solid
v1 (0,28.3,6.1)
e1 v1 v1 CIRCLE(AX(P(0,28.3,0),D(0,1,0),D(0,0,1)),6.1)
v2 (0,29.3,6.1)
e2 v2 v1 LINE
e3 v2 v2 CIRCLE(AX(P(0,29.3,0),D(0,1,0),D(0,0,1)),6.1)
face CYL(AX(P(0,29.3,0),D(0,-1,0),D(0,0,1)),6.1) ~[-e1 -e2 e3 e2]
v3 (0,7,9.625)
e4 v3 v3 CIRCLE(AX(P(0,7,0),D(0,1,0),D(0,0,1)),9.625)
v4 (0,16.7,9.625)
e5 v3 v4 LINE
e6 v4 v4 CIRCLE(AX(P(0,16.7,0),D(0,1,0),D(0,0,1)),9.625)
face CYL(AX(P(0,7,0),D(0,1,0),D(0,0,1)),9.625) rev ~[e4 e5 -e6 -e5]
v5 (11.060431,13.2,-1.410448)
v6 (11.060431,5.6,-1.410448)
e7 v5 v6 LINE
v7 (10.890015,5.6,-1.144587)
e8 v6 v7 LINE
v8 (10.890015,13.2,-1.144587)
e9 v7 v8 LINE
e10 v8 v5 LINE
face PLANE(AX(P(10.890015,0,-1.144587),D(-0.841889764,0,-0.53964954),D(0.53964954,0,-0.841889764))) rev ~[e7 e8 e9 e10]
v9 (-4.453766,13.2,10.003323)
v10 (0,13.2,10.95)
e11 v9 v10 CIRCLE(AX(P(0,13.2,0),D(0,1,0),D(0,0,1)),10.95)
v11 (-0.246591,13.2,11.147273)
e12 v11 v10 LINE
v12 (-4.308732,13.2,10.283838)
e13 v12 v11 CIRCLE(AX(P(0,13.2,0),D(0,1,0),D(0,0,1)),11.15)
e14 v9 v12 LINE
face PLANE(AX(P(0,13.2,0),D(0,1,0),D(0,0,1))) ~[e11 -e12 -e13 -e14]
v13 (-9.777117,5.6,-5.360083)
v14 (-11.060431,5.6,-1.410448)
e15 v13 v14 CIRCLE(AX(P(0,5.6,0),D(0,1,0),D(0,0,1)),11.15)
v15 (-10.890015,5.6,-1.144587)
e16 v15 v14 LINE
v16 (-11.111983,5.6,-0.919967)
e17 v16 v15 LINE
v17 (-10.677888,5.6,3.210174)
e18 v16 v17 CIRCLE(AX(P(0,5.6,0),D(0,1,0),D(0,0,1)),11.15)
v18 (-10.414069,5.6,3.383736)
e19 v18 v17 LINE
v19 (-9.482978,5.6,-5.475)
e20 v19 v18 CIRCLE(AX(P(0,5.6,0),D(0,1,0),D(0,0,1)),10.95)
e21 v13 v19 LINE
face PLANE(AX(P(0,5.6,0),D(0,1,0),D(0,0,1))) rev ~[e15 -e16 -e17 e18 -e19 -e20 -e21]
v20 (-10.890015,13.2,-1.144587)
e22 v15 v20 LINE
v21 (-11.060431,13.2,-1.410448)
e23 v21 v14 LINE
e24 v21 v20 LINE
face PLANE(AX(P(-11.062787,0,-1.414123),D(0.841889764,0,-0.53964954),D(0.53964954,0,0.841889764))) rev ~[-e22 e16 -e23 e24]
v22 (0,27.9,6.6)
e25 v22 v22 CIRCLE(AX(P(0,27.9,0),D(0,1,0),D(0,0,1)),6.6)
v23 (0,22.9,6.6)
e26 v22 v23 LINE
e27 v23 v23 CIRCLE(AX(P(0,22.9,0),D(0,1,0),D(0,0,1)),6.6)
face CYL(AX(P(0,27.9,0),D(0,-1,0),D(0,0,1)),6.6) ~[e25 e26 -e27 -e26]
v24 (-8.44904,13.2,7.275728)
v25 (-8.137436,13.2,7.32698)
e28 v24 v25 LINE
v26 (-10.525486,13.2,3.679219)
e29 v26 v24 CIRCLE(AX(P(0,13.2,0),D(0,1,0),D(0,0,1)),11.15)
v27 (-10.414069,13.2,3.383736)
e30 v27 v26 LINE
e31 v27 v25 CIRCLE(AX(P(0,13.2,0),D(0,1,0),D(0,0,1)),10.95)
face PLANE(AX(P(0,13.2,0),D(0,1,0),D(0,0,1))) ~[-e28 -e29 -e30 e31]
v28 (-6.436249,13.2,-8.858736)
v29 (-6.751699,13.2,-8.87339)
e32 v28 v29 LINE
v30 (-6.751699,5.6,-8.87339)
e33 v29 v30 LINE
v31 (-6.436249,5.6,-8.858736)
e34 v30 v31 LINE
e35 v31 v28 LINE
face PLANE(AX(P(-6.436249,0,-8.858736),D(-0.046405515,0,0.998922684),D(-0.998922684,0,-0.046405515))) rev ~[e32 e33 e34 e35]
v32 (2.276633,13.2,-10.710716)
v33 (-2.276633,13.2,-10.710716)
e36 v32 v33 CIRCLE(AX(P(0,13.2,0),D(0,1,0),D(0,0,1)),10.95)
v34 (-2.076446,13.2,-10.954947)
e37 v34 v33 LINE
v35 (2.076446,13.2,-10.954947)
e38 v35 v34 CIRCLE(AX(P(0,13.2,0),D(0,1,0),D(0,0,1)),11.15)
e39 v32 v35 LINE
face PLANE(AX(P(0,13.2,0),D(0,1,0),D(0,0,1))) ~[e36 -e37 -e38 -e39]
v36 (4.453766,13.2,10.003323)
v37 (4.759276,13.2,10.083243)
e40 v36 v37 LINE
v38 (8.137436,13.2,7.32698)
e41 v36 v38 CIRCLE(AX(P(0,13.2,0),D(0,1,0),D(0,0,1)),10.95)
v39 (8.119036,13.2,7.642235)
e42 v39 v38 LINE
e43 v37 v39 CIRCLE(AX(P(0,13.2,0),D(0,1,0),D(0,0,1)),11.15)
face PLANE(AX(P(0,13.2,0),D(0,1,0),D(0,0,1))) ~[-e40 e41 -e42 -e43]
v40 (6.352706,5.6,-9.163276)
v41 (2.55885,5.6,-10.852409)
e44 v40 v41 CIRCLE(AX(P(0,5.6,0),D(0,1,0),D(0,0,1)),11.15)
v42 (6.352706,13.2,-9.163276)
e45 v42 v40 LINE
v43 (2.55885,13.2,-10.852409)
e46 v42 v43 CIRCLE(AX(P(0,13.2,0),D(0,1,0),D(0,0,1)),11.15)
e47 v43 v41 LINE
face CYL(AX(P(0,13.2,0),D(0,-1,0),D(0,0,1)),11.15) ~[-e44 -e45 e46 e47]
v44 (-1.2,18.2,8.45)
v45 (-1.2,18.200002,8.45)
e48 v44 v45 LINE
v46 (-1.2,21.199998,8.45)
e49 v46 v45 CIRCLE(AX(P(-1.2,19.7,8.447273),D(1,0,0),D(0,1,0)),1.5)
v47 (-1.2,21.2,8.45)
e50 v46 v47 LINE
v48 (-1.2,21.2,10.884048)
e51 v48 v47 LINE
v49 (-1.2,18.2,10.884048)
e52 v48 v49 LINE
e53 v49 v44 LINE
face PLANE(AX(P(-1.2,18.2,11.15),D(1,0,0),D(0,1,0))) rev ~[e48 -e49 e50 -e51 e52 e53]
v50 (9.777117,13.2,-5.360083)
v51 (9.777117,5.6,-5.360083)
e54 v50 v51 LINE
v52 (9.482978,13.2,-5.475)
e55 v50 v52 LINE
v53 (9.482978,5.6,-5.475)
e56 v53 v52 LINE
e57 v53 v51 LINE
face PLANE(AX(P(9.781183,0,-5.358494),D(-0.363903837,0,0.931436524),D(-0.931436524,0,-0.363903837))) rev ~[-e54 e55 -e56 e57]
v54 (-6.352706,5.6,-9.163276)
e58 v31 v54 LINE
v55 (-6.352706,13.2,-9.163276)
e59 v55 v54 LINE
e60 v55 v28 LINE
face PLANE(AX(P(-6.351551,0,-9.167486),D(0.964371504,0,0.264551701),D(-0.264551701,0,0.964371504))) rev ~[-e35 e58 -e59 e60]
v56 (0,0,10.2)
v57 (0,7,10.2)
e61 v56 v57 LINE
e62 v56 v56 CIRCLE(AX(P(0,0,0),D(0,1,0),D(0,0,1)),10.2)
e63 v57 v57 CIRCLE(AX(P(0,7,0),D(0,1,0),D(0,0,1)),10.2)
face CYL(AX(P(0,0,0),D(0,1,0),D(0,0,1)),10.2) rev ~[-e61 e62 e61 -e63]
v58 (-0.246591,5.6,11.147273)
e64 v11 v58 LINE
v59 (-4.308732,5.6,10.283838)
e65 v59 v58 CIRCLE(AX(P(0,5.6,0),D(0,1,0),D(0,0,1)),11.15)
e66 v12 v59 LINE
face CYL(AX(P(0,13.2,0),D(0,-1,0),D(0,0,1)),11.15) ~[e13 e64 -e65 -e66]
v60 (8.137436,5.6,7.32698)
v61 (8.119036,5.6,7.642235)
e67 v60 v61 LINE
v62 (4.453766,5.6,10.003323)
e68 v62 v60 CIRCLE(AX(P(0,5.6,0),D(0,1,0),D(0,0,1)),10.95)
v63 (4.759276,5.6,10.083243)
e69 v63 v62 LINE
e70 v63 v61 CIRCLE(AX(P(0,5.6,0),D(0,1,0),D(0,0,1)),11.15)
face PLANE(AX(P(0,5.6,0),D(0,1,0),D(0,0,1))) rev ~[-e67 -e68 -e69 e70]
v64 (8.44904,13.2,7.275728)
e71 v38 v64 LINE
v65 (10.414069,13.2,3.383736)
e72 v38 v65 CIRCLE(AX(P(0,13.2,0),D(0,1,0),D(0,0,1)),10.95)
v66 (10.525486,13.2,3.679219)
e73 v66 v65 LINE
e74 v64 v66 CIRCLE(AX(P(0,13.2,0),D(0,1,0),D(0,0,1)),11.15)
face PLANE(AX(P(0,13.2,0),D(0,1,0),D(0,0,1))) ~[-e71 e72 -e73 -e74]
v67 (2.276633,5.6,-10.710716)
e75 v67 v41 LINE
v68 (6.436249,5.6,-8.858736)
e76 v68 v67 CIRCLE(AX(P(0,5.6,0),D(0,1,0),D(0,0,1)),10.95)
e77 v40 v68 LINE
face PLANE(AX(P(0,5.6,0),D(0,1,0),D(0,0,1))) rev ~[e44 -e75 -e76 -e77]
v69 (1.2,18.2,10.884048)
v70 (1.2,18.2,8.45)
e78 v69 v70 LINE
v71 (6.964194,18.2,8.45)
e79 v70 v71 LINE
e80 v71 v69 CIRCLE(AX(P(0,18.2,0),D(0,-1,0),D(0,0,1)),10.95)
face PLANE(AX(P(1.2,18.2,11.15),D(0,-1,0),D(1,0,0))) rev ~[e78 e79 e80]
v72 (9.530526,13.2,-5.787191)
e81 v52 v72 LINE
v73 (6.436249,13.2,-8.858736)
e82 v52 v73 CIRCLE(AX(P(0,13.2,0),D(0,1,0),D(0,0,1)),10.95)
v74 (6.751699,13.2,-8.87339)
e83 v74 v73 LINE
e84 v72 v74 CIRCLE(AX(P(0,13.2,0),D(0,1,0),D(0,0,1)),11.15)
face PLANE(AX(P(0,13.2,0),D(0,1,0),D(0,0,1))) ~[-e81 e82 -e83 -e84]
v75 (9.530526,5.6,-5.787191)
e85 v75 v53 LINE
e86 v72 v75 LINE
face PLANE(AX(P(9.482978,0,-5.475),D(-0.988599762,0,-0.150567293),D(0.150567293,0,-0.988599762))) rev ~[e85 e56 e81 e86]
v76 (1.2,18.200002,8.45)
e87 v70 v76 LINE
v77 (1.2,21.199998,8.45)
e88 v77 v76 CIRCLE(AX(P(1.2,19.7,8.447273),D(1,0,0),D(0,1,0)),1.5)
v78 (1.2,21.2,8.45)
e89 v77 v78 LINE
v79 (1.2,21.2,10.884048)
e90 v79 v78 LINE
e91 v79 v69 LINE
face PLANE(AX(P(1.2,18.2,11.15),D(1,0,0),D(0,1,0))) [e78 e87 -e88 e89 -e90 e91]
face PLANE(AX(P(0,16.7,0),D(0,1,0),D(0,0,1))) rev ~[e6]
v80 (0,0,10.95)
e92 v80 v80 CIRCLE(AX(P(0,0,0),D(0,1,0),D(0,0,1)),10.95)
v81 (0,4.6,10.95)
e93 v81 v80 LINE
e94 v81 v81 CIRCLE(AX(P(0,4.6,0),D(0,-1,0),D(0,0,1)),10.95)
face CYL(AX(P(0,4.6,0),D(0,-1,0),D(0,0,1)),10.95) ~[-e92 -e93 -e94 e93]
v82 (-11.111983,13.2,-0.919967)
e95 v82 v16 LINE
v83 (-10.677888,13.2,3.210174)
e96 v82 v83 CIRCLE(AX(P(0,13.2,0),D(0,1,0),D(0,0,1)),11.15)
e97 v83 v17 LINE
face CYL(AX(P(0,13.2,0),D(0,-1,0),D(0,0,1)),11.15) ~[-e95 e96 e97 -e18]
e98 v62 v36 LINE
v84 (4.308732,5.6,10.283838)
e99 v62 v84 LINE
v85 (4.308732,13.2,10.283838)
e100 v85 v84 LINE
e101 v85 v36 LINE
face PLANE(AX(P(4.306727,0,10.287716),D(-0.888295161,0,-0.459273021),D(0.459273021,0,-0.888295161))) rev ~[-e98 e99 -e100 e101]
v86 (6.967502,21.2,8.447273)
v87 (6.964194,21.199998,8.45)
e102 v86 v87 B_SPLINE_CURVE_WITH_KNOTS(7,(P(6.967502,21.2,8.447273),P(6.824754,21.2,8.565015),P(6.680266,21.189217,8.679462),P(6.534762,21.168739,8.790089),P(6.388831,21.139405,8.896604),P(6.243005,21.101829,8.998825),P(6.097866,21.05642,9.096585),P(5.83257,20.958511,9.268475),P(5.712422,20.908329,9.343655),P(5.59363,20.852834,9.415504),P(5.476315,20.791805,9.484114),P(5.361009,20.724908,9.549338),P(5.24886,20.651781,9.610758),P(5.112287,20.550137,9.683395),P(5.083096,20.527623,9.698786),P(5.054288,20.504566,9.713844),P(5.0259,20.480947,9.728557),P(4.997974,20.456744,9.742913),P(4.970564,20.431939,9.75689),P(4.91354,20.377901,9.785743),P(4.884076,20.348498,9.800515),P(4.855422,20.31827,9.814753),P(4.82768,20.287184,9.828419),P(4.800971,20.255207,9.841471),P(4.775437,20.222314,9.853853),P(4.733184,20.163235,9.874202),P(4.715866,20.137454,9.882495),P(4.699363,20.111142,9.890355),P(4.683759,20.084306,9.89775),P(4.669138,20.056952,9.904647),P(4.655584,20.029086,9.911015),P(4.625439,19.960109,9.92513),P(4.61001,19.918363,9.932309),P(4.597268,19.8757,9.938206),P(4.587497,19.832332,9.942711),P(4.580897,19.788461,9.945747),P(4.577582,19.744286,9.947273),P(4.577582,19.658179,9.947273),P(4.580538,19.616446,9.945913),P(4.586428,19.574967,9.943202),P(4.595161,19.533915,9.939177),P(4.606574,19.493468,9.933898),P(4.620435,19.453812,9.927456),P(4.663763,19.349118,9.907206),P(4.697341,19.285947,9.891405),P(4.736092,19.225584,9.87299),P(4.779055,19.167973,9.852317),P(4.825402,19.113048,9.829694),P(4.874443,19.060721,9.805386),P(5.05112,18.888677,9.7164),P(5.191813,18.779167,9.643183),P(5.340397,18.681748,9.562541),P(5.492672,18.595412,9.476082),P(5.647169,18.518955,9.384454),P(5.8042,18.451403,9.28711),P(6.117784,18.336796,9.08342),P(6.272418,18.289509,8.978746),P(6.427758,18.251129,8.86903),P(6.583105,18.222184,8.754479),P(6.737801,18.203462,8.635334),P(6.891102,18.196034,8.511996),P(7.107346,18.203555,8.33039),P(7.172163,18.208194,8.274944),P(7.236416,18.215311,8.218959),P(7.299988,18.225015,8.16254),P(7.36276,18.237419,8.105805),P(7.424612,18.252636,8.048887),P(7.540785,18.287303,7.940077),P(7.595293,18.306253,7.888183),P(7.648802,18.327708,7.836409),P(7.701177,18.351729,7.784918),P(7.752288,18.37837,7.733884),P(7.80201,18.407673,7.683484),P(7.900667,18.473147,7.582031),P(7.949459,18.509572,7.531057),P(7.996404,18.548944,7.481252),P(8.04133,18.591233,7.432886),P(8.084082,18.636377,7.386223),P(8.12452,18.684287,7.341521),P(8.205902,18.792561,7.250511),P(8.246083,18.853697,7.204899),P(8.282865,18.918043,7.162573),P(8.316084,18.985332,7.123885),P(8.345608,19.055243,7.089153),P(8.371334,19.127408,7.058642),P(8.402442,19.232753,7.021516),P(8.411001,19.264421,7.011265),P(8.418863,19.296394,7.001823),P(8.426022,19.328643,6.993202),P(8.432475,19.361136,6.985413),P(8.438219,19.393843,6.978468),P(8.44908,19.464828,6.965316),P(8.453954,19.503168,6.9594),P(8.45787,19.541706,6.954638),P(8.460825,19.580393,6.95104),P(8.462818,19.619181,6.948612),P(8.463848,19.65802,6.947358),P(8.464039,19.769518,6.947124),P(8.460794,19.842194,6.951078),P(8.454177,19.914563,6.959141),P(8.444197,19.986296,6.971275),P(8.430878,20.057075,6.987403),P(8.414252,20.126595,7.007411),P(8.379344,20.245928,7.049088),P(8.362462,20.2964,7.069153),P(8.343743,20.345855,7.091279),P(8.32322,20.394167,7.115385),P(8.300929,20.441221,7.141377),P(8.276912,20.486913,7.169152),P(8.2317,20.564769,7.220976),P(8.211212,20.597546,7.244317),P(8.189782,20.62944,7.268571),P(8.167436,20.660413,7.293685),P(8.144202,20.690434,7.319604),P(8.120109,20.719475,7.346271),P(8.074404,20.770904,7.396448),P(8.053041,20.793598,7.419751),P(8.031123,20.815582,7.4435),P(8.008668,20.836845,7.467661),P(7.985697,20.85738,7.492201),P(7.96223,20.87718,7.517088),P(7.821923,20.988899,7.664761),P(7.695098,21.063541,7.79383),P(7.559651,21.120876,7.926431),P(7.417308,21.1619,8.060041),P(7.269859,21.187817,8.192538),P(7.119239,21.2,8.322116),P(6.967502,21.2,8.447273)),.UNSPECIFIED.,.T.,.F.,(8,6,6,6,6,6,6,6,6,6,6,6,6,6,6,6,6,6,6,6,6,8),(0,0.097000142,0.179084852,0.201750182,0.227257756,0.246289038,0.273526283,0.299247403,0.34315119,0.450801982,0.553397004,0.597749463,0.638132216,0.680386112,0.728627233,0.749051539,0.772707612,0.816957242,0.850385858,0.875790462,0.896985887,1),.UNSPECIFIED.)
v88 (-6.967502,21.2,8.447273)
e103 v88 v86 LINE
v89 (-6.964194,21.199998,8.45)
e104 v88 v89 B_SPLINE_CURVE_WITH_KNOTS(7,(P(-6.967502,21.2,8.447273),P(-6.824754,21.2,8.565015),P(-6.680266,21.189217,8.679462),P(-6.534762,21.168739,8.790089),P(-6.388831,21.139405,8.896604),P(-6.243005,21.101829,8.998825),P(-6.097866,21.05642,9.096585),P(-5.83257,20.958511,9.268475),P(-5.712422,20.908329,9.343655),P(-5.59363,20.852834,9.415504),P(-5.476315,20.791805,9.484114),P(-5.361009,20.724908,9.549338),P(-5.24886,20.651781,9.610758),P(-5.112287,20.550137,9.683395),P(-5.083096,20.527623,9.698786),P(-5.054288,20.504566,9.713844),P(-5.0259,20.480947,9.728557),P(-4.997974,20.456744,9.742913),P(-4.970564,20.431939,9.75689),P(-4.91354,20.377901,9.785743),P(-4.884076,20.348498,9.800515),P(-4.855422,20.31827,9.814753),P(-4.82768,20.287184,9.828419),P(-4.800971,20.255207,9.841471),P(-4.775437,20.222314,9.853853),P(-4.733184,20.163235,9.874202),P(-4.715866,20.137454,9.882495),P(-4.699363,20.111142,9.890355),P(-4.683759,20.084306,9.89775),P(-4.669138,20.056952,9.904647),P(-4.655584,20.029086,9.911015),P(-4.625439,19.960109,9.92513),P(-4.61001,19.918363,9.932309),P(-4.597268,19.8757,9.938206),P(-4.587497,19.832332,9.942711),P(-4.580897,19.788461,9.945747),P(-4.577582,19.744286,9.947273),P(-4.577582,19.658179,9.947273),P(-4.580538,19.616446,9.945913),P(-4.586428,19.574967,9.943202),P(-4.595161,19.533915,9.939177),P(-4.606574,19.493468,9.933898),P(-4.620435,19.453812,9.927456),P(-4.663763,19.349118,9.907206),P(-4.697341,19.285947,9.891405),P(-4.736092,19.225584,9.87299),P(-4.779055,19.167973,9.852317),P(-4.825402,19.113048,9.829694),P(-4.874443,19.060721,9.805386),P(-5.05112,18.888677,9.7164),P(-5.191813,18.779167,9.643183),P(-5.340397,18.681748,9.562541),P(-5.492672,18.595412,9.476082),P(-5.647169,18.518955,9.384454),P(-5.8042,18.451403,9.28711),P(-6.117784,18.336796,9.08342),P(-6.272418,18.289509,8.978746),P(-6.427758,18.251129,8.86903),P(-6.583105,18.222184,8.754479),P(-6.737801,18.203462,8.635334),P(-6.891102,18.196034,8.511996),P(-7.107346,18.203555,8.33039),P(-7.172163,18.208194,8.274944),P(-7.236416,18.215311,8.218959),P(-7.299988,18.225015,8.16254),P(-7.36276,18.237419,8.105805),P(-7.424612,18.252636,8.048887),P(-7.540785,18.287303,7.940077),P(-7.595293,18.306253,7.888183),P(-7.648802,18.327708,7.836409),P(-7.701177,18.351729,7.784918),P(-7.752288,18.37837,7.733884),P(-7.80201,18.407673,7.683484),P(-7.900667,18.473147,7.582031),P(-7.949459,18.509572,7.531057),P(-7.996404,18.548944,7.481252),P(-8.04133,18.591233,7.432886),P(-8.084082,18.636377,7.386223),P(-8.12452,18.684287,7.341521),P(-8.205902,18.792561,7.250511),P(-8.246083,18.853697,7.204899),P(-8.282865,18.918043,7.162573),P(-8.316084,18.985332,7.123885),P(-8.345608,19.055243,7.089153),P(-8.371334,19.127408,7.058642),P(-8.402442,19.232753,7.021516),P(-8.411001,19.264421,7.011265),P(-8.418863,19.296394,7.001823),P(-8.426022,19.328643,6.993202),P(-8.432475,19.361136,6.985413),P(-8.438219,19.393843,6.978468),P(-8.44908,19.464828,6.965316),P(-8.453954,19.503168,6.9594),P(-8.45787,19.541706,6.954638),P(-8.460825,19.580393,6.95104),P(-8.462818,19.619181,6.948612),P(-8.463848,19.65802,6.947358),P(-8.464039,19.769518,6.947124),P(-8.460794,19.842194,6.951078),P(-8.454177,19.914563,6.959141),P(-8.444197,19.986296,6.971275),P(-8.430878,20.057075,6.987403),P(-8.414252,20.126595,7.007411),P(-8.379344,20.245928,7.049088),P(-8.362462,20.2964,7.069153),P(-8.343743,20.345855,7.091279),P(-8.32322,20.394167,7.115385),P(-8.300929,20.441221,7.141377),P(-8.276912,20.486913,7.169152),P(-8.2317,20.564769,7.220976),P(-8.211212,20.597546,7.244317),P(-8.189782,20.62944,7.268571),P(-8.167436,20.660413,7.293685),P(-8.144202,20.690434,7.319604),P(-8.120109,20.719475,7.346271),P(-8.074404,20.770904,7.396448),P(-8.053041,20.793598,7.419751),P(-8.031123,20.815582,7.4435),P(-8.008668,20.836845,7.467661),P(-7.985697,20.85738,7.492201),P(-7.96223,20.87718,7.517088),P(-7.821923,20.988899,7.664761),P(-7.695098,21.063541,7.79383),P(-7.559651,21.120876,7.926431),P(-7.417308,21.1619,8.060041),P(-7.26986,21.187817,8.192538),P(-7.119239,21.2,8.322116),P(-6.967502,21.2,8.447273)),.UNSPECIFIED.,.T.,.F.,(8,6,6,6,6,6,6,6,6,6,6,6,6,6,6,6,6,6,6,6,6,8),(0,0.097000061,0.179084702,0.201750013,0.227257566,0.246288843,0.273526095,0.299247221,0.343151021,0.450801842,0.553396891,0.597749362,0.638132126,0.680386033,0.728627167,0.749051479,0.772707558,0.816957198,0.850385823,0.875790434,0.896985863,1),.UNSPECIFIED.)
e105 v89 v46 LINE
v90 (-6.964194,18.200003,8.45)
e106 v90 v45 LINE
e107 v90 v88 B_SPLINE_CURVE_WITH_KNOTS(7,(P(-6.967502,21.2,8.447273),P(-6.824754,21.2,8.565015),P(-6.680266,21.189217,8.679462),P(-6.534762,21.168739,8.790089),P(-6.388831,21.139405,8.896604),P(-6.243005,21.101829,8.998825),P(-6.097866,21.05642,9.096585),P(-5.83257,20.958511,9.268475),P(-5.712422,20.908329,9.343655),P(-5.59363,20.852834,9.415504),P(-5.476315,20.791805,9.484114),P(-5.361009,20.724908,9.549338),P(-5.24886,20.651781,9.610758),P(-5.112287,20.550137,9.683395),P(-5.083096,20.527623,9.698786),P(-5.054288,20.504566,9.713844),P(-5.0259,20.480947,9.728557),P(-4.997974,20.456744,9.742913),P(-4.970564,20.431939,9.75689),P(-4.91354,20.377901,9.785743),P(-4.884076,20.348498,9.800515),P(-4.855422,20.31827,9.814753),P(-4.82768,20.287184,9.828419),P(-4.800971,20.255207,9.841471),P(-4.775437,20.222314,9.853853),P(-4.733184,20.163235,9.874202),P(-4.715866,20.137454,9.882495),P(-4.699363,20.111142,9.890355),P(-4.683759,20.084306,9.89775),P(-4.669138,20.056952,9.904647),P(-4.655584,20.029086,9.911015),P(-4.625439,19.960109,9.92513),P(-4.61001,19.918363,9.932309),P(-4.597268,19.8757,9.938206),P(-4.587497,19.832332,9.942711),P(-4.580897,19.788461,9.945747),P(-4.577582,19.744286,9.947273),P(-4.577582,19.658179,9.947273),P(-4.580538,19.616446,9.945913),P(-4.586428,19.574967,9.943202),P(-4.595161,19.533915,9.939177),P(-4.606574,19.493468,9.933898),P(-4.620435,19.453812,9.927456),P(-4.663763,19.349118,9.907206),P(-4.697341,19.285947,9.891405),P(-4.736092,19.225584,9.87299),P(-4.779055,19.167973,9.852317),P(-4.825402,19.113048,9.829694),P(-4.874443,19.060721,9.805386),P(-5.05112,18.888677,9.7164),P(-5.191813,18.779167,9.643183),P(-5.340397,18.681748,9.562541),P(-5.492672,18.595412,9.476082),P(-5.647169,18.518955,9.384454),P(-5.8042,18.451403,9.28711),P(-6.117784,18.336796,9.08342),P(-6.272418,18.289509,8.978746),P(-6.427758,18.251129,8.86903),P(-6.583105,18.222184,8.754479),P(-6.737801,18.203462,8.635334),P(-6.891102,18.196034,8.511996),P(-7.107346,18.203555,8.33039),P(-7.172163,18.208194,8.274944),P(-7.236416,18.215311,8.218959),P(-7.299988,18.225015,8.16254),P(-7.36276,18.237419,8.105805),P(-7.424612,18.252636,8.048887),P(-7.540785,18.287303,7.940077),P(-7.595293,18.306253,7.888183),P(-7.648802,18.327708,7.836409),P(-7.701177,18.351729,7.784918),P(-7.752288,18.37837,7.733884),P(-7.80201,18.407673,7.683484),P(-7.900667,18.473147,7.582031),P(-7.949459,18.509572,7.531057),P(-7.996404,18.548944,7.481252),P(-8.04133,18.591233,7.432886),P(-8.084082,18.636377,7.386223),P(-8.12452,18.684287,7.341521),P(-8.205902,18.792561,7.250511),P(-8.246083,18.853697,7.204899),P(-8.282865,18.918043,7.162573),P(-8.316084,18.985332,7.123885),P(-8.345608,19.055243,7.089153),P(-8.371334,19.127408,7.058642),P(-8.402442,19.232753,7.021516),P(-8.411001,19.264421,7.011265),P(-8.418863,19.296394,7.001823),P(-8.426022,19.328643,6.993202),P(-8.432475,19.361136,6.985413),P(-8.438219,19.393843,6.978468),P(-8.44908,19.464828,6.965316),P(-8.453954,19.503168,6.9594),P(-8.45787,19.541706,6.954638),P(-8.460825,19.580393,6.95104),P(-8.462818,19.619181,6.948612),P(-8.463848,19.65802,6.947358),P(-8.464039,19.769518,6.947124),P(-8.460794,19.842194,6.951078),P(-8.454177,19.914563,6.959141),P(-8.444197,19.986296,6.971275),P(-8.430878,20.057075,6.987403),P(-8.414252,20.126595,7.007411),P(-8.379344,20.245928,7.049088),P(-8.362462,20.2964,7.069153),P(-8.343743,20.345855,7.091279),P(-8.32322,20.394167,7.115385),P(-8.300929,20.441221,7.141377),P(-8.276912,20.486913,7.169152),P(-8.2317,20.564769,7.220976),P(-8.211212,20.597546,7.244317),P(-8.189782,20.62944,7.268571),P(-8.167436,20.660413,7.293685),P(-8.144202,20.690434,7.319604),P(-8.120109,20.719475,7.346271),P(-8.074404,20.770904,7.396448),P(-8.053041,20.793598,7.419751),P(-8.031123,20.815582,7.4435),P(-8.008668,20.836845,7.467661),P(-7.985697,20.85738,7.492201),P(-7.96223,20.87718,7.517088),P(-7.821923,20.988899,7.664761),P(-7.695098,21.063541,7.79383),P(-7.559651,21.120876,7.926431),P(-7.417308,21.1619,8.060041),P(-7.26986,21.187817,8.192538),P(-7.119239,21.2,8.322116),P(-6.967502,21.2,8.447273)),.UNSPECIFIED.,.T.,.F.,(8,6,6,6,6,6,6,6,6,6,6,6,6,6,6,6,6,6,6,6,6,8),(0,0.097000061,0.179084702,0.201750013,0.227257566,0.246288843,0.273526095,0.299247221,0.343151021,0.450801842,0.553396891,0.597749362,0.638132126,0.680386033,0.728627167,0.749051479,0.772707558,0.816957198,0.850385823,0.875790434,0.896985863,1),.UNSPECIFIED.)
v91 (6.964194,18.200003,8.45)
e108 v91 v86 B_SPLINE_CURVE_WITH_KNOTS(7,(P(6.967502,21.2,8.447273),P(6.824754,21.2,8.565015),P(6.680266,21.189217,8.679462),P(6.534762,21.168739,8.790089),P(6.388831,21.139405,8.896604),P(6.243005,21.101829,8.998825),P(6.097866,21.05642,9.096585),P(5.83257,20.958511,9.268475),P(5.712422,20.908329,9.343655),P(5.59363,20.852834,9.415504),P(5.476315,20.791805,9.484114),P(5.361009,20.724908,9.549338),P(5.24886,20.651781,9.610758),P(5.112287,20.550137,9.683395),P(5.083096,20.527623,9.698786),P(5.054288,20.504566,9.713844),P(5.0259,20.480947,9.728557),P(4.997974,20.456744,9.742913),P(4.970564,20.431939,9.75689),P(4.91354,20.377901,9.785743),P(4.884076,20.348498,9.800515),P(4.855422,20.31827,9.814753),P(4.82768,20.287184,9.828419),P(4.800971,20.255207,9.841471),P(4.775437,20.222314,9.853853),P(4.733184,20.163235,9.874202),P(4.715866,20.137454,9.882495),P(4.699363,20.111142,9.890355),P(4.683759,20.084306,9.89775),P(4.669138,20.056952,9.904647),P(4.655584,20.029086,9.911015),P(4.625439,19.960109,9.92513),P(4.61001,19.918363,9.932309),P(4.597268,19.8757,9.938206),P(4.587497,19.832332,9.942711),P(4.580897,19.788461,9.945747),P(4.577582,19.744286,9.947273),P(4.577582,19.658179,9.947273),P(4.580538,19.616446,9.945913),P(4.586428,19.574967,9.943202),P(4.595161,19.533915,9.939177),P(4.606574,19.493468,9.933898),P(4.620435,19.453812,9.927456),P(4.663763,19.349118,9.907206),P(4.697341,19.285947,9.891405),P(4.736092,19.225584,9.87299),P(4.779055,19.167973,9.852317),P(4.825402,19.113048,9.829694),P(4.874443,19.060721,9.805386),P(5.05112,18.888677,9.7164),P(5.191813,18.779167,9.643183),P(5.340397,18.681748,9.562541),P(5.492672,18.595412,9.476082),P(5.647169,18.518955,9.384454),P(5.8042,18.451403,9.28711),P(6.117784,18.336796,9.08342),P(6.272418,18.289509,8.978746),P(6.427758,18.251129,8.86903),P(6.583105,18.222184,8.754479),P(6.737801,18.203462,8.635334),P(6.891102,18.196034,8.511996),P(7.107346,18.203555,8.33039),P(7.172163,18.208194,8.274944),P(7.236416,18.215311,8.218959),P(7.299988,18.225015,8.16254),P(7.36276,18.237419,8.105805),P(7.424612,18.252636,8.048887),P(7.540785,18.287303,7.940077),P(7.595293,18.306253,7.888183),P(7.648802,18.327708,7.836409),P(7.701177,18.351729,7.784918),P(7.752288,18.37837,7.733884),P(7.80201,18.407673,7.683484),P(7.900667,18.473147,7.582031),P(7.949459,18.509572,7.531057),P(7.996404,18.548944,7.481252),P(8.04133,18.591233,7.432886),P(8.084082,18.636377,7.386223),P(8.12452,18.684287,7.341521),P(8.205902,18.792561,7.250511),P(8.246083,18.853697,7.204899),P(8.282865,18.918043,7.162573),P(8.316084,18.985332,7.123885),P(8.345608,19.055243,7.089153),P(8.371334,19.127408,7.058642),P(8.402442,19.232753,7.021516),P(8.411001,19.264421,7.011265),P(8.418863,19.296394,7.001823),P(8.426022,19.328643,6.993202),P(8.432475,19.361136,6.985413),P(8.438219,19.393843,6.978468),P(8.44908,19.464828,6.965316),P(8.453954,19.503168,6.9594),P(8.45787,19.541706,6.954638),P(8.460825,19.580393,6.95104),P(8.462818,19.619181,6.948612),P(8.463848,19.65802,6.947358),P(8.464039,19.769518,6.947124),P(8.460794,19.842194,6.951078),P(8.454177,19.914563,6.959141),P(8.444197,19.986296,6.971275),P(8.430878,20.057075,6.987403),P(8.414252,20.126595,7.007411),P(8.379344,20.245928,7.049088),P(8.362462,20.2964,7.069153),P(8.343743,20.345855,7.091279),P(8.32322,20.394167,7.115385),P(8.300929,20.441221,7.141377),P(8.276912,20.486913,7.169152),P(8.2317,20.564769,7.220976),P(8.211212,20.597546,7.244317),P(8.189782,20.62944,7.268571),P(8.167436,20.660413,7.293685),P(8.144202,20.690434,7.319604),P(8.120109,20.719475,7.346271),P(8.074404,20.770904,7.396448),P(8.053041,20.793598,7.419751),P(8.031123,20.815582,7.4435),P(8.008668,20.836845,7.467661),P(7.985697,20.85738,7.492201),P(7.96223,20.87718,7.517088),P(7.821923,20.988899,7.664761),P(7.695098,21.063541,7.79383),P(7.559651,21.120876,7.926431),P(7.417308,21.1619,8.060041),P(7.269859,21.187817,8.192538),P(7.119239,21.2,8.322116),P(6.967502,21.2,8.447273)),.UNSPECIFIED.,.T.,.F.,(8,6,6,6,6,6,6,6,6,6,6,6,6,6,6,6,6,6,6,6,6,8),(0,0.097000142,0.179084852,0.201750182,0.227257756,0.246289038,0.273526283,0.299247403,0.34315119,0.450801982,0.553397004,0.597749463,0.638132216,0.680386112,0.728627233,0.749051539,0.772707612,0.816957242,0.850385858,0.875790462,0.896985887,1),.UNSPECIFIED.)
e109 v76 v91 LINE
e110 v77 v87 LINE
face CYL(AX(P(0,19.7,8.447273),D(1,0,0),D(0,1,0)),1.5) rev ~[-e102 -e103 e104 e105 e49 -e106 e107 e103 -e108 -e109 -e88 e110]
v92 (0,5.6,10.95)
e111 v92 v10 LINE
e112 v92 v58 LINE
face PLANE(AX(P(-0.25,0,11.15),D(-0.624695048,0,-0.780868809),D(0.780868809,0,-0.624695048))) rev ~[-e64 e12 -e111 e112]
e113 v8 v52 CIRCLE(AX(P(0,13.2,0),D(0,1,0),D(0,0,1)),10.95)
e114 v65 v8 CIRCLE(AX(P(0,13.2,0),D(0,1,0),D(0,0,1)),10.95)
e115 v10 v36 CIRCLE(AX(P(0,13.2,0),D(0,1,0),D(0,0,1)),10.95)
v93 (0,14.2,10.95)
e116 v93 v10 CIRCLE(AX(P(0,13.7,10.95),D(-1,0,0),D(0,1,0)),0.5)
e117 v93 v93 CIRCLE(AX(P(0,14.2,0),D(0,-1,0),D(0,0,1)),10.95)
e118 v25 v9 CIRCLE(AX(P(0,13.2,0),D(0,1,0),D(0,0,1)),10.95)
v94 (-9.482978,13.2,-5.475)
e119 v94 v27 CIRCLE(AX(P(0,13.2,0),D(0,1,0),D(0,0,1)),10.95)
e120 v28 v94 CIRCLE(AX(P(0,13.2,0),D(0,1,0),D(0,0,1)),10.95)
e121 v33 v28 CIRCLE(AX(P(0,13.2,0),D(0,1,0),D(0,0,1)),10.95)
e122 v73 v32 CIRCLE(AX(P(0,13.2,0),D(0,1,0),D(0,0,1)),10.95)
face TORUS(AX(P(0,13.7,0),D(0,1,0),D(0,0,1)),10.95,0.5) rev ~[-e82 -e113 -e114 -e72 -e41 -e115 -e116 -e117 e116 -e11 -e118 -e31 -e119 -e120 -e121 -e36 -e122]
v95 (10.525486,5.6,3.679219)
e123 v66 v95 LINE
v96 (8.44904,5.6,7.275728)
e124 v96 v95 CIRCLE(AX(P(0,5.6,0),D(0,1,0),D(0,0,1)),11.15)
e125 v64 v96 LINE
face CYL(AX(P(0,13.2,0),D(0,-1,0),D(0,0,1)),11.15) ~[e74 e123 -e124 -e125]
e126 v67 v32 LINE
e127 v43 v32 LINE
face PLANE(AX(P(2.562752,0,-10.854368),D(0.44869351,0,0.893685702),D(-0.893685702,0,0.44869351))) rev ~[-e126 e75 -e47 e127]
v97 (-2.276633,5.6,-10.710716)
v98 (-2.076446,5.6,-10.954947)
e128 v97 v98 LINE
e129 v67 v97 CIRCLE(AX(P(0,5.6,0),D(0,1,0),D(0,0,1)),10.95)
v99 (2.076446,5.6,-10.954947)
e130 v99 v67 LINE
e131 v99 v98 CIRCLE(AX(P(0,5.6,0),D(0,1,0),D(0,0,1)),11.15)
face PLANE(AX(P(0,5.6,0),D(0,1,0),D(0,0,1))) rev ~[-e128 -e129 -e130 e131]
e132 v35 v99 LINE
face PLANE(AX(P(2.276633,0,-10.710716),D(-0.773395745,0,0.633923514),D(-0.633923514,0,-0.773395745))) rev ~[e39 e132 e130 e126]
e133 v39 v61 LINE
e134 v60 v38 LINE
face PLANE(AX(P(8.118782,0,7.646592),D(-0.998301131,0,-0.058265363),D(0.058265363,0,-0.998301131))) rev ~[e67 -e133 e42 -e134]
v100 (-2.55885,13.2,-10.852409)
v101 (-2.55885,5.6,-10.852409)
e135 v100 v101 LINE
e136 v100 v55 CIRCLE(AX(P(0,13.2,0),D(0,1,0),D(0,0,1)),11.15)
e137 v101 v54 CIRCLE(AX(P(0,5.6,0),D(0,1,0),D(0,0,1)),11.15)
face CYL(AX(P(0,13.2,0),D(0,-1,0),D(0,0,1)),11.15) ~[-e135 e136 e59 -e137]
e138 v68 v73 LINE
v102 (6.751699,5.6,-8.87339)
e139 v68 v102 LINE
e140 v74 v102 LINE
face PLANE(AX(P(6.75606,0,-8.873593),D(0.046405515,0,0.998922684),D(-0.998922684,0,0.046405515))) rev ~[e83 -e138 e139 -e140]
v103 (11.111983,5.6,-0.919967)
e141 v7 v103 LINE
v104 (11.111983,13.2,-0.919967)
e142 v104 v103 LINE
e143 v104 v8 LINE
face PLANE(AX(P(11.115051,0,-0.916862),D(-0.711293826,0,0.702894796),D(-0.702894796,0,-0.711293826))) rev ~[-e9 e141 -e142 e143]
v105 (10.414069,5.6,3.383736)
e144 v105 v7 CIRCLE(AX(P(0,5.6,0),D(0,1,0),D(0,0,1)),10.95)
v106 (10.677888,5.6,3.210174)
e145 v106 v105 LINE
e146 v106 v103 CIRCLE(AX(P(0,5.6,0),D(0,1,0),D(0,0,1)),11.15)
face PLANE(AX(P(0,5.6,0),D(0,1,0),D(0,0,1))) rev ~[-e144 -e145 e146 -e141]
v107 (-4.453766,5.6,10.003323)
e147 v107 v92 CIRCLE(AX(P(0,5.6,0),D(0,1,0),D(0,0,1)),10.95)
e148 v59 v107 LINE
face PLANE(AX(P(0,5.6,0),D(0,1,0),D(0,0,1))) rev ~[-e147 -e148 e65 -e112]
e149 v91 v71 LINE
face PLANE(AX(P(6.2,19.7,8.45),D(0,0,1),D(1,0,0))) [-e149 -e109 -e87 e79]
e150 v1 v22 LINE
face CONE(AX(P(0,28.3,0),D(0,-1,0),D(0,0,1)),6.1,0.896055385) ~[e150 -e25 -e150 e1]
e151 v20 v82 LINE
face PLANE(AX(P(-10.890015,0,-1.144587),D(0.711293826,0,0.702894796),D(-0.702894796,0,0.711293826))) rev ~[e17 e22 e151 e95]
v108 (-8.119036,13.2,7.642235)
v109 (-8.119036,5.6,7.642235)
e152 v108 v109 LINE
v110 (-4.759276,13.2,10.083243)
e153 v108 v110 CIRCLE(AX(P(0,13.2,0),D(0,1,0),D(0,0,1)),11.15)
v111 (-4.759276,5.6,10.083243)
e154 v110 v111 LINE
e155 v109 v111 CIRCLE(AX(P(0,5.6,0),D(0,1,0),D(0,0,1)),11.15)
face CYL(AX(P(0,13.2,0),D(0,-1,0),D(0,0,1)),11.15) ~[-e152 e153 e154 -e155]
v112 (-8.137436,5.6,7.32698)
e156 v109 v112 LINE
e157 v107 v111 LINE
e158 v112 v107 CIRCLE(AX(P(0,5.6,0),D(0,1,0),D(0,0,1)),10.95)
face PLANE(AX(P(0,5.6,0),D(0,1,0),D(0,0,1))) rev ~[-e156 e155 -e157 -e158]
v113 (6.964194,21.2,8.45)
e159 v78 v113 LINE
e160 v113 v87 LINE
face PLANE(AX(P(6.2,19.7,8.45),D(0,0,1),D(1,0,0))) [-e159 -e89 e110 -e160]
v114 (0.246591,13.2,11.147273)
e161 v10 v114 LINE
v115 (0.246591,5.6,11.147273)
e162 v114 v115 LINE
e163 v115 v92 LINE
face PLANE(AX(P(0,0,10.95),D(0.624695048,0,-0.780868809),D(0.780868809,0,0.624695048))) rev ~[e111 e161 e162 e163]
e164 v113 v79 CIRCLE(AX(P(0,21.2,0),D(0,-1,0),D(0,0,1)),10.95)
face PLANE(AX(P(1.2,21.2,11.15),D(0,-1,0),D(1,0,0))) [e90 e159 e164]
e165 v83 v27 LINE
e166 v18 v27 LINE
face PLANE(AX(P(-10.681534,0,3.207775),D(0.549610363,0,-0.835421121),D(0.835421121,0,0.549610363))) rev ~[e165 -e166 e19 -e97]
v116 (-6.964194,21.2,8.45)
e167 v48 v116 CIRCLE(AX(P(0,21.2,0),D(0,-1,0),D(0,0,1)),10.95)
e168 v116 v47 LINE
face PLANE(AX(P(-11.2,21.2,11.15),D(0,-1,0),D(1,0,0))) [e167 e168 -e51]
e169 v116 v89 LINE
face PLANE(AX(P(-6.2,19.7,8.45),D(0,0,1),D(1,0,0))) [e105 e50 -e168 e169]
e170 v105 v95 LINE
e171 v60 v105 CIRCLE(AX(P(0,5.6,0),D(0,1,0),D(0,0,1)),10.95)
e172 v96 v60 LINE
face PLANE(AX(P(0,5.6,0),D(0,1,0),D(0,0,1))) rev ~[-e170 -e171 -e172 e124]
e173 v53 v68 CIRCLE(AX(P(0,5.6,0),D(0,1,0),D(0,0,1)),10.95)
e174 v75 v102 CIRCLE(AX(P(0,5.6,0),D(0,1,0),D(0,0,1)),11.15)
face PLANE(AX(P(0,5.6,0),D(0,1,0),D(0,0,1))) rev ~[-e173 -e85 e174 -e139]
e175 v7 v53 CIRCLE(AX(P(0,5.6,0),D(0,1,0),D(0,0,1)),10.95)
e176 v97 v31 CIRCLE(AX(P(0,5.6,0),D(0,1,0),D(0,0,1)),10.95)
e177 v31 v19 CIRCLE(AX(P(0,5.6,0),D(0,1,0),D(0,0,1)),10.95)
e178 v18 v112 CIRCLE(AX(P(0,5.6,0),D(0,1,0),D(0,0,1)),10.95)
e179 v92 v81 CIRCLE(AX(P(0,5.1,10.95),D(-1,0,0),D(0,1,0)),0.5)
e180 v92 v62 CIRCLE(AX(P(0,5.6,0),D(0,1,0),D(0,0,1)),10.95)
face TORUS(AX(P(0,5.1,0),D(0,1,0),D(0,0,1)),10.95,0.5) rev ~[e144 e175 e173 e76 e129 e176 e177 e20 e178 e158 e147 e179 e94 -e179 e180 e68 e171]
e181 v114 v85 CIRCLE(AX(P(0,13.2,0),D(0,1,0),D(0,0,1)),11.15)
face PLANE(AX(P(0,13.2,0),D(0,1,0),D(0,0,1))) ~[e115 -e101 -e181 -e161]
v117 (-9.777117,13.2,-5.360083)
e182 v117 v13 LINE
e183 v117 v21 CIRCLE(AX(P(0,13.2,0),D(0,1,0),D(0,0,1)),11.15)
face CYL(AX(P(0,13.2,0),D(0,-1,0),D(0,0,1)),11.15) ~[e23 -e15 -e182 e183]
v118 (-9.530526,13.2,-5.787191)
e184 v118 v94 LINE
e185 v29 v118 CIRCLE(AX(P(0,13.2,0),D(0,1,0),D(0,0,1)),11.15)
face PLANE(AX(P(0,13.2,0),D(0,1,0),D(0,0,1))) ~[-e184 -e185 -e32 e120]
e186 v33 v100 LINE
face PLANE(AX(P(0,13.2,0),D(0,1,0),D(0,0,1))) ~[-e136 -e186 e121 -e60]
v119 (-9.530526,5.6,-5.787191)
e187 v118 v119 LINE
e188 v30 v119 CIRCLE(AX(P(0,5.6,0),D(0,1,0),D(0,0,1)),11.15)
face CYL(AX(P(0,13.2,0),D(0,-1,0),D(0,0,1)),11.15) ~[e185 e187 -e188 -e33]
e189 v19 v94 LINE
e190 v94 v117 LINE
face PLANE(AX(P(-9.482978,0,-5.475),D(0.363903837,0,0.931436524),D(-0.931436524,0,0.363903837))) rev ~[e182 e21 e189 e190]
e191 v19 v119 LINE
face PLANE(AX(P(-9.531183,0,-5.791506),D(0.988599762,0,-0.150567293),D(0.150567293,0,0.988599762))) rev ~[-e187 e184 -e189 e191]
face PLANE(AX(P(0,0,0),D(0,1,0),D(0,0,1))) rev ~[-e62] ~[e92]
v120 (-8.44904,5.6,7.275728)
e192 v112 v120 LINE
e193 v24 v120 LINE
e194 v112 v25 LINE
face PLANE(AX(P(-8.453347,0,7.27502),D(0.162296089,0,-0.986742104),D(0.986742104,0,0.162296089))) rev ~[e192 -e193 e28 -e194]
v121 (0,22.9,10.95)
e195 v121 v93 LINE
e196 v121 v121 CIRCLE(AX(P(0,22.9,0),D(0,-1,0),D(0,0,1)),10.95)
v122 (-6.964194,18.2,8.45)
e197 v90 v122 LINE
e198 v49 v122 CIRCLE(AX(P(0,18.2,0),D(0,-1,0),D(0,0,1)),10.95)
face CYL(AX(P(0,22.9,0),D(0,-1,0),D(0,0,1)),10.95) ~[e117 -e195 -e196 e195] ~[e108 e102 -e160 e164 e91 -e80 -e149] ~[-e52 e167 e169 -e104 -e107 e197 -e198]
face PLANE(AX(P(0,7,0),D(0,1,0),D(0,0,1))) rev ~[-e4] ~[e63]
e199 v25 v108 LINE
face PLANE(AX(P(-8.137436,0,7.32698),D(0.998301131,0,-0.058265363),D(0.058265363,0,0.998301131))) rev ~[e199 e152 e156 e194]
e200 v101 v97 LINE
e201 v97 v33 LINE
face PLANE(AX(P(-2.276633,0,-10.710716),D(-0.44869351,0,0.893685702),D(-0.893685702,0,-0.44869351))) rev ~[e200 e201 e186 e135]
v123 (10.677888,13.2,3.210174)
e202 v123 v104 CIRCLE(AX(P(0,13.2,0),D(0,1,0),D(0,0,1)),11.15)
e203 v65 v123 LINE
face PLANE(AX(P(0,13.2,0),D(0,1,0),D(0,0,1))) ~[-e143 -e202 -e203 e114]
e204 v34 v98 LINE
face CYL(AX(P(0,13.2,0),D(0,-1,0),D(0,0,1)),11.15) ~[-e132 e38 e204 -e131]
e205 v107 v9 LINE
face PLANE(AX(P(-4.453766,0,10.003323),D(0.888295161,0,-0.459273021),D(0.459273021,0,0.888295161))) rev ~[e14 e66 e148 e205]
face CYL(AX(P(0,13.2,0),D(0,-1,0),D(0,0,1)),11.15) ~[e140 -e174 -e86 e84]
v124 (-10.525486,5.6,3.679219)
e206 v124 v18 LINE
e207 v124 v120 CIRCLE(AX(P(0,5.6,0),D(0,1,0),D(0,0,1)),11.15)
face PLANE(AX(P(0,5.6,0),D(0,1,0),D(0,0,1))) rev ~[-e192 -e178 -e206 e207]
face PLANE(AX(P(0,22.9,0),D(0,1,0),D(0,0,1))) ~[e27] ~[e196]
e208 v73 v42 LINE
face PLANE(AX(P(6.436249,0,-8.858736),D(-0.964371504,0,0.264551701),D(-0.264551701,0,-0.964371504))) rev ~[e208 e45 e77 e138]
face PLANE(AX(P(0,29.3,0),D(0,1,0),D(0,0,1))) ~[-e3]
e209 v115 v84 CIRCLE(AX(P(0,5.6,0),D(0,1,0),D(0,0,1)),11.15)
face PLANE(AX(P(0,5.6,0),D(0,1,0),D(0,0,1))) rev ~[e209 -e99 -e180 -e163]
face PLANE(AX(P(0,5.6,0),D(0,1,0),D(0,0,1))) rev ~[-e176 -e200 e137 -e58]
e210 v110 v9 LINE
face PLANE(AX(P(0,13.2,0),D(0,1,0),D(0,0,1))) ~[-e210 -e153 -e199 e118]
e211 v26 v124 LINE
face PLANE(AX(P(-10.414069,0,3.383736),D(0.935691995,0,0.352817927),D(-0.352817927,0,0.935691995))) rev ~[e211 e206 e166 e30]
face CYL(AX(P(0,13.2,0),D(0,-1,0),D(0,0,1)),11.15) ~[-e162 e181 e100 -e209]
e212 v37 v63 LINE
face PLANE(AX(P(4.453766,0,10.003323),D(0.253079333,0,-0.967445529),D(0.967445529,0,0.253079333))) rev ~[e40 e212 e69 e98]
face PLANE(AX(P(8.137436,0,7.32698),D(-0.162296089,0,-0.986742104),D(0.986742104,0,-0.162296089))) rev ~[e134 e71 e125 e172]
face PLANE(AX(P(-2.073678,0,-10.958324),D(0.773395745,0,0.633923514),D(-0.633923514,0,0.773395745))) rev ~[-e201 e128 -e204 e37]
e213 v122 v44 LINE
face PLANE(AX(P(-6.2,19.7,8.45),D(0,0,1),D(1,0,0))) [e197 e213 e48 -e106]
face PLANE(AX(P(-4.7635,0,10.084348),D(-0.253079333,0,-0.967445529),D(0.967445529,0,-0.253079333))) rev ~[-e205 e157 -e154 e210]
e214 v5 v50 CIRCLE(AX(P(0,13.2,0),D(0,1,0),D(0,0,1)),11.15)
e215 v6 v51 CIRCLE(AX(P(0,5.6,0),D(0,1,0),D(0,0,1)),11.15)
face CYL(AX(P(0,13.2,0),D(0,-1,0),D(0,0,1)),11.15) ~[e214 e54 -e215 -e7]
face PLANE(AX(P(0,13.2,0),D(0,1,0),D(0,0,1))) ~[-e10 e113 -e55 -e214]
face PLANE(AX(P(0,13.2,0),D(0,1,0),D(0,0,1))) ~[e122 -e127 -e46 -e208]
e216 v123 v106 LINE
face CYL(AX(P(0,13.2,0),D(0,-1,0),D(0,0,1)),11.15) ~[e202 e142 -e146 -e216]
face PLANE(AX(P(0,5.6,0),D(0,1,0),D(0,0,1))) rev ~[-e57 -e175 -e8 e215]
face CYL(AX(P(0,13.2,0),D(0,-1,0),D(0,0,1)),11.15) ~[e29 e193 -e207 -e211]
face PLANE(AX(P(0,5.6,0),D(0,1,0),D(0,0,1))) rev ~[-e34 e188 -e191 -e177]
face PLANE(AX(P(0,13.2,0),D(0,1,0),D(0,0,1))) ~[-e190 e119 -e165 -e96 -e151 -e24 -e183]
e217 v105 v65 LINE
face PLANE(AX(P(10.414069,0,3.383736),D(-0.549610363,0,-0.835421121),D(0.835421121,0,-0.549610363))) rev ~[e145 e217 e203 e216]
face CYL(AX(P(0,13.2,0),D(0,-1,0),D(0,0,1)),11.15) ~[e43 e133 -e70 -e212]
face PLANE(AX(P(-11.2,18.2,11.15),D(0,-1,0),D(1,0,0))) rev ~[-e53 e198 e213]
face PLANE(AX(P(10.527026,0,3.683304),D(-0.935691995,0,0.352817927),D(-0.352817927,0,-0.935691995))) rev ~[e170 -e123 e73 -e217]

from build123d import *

# Parameters (mm, degrees)
F4_DEPTH = 25
F5_R     = 1.5
F6_DEPTH = 12.5
F8_W     = 10
F8_H     = 3
F9_DEPTH = 2.7


with BuildPart() as f2:
    # F0 (on Right) → F2 (revolve)
    with BuildSketch(Plane.YZ):
        with BuildLine():
            Line((4.6, 10.95), (0, 10.95))
            Line((0, 10.95), (0, 10.2))
            Line((0, 10.2), (7, 10.2))
            Line((7, 10.2), (7, 9.625))
            Line((7, 9.625), (16.7, 9.625))
            Line((16.7, 9.625), (16.7, 0))
            Line((16.7, 0), (29.3, 0))
            Line((29.3, 0), (29.3, 6.1))
            Line((29.3, 6.1), (28.3, 6.1))
            Line((28.3, 6.1), (27.9, 6.6))
            Line((27.9, 6.6), (22.9, 6.6))
            Line((22.9, 6.6), (22.9, 10.95))
            Line((22.9, 10.95), (14.2, 10.95))
            ThreePointArc((14.2, 10.95), (13.7, 10.45), (13.2, 10.95))
            Line((13.2, 10.95), (13.2, 11.15))
            Line((13.2, 11.15), (5.6, 11.15))
            Line((5.6, 11.15), (5.6, 10.95))
            ThreePointArc((5.6, 10.95), (5.1, 10.45), (4.6, 10.95))
        make_face()
    revolve(axis=Axis((0, 2.436379, 0), (0, 1, 0)))

    # F3 (on Front) → F4 (cut)
    with BuildSketch(Plane.XZ):
        Polygon((-0.25, 11.15), (0, 10.95), (0.25, 11.15), (0.25, 11.247457), (-0.25, 11.247457), align=None)
        Polygon((-4.803139, 10.173379), (-4.7635, 10.084348), (-4.453766, 10.003323), (-4.306727, 10.287716), (-4.346367, 10.376747), align=None)
        Polygon((-8.525772, 7.340232), (-8.453347, 7.27502), (-8.137436, 7.32698), (-8.118782, 7.646592), (-8.191207, 7.711804), align=None)
        Polygon((-10.774222, 3.237891), (-10.681534, 3.207775), (-10.414069, 3.383736), (-10.527026, 3.683304), (-10.619713, 3.713419), align=None)
        Polygon((-11.15971, -1.42431), (-11.062787, -1.414123), (-10.890015, -1.144587), (-11.115051, -0.916862), (-11.211974, -0.927049), align=None)
        Polygon((-9.615583, -5.840235), (-9.531183, -5.791506), (-9.482978, -5.475), (-9.781183, -5.358494), (-9.865583, -5.407222), align=None)
        Polygon((-6.408835, -9.24633), (-6.351551, -9.167486), (-6.436249, -8.858736), (-6.75606, -8.873593), (-6.813344, -8.952438), align=None)
        Polygon((-2.093941, -11.053651), (-2.073678, -10.958324), (-2.276633, -10.710716), (-2.562752, -10.854368), (-2.583015, -10.949695), align=None)
        Polygon((2.583015, -10.949695), (2.562752, -10.854368), (2.276633, -10.710716), (2.073678, -10.958324), (2.093941, -11.053651), align=None)
        Polygon((6.813344, -8.952438), (6.75606, -8.873593), (6.436249, -8.858736), (6.351551, -9.167486), (6.408835, -9.24633), align=None)
        Polygon((9.865583, -5.407222), (9.781183, -5.358494), (9.482978, -5.475), (9.531183, -5.791506), (9.615583, -5.840235), align=None)
        Polygon((11.211974, -0.927049), (11.115051, -0.916862), (10.890015, -1.144587), (11.062787, -1.414123), (11.15971, -1.42431), align=None)
        Polygon((10.619713, 3.713419), (10.527026, 3.683304), (10.414069, 3.383736), (10.681534, 3.207775), (10.774222, 3.237891), align=None)
        Polygon((8.191207, 7.711804), (8.118782, 7.646592), (8.137436, 7.32698), (8.453347, 7.27502), (8.525772, 7.340232), align=None)
        Polygon((4.346367, 10.376747), (4.306727, 10.287716), (4.453766, 10.003323), (4.7635, 10.084348), (4.803139, 10.173379), align=None)
    extrude(amount=-F4_DEPTH, mode=Mode.SUBTRACT)

    # F5 (on Right) → F6 (cut, symmetric)
    with BuildSketch(Plane.YZ):
        with Locations((19.7, 8.447273)):
            Circle(F5_R)
    extrude(amount=F6_DEPTH, both=True, mode=Mode.SUBTRACT)

    # F8 (on offset) → F9 (cut)
    with BuildSketch(Plane.XY.offset(11.15)):
        with Locations((6.2, 19.7)):
            Rectangle(F8_W, F8_H)
        with Locations((-6.2, 19.7)):
            Rectangle(F8_W, F8_H)
    extrude(amount=-F9_DEPTH, mode=Mode.SUBTRACT)


solid = f2.part
